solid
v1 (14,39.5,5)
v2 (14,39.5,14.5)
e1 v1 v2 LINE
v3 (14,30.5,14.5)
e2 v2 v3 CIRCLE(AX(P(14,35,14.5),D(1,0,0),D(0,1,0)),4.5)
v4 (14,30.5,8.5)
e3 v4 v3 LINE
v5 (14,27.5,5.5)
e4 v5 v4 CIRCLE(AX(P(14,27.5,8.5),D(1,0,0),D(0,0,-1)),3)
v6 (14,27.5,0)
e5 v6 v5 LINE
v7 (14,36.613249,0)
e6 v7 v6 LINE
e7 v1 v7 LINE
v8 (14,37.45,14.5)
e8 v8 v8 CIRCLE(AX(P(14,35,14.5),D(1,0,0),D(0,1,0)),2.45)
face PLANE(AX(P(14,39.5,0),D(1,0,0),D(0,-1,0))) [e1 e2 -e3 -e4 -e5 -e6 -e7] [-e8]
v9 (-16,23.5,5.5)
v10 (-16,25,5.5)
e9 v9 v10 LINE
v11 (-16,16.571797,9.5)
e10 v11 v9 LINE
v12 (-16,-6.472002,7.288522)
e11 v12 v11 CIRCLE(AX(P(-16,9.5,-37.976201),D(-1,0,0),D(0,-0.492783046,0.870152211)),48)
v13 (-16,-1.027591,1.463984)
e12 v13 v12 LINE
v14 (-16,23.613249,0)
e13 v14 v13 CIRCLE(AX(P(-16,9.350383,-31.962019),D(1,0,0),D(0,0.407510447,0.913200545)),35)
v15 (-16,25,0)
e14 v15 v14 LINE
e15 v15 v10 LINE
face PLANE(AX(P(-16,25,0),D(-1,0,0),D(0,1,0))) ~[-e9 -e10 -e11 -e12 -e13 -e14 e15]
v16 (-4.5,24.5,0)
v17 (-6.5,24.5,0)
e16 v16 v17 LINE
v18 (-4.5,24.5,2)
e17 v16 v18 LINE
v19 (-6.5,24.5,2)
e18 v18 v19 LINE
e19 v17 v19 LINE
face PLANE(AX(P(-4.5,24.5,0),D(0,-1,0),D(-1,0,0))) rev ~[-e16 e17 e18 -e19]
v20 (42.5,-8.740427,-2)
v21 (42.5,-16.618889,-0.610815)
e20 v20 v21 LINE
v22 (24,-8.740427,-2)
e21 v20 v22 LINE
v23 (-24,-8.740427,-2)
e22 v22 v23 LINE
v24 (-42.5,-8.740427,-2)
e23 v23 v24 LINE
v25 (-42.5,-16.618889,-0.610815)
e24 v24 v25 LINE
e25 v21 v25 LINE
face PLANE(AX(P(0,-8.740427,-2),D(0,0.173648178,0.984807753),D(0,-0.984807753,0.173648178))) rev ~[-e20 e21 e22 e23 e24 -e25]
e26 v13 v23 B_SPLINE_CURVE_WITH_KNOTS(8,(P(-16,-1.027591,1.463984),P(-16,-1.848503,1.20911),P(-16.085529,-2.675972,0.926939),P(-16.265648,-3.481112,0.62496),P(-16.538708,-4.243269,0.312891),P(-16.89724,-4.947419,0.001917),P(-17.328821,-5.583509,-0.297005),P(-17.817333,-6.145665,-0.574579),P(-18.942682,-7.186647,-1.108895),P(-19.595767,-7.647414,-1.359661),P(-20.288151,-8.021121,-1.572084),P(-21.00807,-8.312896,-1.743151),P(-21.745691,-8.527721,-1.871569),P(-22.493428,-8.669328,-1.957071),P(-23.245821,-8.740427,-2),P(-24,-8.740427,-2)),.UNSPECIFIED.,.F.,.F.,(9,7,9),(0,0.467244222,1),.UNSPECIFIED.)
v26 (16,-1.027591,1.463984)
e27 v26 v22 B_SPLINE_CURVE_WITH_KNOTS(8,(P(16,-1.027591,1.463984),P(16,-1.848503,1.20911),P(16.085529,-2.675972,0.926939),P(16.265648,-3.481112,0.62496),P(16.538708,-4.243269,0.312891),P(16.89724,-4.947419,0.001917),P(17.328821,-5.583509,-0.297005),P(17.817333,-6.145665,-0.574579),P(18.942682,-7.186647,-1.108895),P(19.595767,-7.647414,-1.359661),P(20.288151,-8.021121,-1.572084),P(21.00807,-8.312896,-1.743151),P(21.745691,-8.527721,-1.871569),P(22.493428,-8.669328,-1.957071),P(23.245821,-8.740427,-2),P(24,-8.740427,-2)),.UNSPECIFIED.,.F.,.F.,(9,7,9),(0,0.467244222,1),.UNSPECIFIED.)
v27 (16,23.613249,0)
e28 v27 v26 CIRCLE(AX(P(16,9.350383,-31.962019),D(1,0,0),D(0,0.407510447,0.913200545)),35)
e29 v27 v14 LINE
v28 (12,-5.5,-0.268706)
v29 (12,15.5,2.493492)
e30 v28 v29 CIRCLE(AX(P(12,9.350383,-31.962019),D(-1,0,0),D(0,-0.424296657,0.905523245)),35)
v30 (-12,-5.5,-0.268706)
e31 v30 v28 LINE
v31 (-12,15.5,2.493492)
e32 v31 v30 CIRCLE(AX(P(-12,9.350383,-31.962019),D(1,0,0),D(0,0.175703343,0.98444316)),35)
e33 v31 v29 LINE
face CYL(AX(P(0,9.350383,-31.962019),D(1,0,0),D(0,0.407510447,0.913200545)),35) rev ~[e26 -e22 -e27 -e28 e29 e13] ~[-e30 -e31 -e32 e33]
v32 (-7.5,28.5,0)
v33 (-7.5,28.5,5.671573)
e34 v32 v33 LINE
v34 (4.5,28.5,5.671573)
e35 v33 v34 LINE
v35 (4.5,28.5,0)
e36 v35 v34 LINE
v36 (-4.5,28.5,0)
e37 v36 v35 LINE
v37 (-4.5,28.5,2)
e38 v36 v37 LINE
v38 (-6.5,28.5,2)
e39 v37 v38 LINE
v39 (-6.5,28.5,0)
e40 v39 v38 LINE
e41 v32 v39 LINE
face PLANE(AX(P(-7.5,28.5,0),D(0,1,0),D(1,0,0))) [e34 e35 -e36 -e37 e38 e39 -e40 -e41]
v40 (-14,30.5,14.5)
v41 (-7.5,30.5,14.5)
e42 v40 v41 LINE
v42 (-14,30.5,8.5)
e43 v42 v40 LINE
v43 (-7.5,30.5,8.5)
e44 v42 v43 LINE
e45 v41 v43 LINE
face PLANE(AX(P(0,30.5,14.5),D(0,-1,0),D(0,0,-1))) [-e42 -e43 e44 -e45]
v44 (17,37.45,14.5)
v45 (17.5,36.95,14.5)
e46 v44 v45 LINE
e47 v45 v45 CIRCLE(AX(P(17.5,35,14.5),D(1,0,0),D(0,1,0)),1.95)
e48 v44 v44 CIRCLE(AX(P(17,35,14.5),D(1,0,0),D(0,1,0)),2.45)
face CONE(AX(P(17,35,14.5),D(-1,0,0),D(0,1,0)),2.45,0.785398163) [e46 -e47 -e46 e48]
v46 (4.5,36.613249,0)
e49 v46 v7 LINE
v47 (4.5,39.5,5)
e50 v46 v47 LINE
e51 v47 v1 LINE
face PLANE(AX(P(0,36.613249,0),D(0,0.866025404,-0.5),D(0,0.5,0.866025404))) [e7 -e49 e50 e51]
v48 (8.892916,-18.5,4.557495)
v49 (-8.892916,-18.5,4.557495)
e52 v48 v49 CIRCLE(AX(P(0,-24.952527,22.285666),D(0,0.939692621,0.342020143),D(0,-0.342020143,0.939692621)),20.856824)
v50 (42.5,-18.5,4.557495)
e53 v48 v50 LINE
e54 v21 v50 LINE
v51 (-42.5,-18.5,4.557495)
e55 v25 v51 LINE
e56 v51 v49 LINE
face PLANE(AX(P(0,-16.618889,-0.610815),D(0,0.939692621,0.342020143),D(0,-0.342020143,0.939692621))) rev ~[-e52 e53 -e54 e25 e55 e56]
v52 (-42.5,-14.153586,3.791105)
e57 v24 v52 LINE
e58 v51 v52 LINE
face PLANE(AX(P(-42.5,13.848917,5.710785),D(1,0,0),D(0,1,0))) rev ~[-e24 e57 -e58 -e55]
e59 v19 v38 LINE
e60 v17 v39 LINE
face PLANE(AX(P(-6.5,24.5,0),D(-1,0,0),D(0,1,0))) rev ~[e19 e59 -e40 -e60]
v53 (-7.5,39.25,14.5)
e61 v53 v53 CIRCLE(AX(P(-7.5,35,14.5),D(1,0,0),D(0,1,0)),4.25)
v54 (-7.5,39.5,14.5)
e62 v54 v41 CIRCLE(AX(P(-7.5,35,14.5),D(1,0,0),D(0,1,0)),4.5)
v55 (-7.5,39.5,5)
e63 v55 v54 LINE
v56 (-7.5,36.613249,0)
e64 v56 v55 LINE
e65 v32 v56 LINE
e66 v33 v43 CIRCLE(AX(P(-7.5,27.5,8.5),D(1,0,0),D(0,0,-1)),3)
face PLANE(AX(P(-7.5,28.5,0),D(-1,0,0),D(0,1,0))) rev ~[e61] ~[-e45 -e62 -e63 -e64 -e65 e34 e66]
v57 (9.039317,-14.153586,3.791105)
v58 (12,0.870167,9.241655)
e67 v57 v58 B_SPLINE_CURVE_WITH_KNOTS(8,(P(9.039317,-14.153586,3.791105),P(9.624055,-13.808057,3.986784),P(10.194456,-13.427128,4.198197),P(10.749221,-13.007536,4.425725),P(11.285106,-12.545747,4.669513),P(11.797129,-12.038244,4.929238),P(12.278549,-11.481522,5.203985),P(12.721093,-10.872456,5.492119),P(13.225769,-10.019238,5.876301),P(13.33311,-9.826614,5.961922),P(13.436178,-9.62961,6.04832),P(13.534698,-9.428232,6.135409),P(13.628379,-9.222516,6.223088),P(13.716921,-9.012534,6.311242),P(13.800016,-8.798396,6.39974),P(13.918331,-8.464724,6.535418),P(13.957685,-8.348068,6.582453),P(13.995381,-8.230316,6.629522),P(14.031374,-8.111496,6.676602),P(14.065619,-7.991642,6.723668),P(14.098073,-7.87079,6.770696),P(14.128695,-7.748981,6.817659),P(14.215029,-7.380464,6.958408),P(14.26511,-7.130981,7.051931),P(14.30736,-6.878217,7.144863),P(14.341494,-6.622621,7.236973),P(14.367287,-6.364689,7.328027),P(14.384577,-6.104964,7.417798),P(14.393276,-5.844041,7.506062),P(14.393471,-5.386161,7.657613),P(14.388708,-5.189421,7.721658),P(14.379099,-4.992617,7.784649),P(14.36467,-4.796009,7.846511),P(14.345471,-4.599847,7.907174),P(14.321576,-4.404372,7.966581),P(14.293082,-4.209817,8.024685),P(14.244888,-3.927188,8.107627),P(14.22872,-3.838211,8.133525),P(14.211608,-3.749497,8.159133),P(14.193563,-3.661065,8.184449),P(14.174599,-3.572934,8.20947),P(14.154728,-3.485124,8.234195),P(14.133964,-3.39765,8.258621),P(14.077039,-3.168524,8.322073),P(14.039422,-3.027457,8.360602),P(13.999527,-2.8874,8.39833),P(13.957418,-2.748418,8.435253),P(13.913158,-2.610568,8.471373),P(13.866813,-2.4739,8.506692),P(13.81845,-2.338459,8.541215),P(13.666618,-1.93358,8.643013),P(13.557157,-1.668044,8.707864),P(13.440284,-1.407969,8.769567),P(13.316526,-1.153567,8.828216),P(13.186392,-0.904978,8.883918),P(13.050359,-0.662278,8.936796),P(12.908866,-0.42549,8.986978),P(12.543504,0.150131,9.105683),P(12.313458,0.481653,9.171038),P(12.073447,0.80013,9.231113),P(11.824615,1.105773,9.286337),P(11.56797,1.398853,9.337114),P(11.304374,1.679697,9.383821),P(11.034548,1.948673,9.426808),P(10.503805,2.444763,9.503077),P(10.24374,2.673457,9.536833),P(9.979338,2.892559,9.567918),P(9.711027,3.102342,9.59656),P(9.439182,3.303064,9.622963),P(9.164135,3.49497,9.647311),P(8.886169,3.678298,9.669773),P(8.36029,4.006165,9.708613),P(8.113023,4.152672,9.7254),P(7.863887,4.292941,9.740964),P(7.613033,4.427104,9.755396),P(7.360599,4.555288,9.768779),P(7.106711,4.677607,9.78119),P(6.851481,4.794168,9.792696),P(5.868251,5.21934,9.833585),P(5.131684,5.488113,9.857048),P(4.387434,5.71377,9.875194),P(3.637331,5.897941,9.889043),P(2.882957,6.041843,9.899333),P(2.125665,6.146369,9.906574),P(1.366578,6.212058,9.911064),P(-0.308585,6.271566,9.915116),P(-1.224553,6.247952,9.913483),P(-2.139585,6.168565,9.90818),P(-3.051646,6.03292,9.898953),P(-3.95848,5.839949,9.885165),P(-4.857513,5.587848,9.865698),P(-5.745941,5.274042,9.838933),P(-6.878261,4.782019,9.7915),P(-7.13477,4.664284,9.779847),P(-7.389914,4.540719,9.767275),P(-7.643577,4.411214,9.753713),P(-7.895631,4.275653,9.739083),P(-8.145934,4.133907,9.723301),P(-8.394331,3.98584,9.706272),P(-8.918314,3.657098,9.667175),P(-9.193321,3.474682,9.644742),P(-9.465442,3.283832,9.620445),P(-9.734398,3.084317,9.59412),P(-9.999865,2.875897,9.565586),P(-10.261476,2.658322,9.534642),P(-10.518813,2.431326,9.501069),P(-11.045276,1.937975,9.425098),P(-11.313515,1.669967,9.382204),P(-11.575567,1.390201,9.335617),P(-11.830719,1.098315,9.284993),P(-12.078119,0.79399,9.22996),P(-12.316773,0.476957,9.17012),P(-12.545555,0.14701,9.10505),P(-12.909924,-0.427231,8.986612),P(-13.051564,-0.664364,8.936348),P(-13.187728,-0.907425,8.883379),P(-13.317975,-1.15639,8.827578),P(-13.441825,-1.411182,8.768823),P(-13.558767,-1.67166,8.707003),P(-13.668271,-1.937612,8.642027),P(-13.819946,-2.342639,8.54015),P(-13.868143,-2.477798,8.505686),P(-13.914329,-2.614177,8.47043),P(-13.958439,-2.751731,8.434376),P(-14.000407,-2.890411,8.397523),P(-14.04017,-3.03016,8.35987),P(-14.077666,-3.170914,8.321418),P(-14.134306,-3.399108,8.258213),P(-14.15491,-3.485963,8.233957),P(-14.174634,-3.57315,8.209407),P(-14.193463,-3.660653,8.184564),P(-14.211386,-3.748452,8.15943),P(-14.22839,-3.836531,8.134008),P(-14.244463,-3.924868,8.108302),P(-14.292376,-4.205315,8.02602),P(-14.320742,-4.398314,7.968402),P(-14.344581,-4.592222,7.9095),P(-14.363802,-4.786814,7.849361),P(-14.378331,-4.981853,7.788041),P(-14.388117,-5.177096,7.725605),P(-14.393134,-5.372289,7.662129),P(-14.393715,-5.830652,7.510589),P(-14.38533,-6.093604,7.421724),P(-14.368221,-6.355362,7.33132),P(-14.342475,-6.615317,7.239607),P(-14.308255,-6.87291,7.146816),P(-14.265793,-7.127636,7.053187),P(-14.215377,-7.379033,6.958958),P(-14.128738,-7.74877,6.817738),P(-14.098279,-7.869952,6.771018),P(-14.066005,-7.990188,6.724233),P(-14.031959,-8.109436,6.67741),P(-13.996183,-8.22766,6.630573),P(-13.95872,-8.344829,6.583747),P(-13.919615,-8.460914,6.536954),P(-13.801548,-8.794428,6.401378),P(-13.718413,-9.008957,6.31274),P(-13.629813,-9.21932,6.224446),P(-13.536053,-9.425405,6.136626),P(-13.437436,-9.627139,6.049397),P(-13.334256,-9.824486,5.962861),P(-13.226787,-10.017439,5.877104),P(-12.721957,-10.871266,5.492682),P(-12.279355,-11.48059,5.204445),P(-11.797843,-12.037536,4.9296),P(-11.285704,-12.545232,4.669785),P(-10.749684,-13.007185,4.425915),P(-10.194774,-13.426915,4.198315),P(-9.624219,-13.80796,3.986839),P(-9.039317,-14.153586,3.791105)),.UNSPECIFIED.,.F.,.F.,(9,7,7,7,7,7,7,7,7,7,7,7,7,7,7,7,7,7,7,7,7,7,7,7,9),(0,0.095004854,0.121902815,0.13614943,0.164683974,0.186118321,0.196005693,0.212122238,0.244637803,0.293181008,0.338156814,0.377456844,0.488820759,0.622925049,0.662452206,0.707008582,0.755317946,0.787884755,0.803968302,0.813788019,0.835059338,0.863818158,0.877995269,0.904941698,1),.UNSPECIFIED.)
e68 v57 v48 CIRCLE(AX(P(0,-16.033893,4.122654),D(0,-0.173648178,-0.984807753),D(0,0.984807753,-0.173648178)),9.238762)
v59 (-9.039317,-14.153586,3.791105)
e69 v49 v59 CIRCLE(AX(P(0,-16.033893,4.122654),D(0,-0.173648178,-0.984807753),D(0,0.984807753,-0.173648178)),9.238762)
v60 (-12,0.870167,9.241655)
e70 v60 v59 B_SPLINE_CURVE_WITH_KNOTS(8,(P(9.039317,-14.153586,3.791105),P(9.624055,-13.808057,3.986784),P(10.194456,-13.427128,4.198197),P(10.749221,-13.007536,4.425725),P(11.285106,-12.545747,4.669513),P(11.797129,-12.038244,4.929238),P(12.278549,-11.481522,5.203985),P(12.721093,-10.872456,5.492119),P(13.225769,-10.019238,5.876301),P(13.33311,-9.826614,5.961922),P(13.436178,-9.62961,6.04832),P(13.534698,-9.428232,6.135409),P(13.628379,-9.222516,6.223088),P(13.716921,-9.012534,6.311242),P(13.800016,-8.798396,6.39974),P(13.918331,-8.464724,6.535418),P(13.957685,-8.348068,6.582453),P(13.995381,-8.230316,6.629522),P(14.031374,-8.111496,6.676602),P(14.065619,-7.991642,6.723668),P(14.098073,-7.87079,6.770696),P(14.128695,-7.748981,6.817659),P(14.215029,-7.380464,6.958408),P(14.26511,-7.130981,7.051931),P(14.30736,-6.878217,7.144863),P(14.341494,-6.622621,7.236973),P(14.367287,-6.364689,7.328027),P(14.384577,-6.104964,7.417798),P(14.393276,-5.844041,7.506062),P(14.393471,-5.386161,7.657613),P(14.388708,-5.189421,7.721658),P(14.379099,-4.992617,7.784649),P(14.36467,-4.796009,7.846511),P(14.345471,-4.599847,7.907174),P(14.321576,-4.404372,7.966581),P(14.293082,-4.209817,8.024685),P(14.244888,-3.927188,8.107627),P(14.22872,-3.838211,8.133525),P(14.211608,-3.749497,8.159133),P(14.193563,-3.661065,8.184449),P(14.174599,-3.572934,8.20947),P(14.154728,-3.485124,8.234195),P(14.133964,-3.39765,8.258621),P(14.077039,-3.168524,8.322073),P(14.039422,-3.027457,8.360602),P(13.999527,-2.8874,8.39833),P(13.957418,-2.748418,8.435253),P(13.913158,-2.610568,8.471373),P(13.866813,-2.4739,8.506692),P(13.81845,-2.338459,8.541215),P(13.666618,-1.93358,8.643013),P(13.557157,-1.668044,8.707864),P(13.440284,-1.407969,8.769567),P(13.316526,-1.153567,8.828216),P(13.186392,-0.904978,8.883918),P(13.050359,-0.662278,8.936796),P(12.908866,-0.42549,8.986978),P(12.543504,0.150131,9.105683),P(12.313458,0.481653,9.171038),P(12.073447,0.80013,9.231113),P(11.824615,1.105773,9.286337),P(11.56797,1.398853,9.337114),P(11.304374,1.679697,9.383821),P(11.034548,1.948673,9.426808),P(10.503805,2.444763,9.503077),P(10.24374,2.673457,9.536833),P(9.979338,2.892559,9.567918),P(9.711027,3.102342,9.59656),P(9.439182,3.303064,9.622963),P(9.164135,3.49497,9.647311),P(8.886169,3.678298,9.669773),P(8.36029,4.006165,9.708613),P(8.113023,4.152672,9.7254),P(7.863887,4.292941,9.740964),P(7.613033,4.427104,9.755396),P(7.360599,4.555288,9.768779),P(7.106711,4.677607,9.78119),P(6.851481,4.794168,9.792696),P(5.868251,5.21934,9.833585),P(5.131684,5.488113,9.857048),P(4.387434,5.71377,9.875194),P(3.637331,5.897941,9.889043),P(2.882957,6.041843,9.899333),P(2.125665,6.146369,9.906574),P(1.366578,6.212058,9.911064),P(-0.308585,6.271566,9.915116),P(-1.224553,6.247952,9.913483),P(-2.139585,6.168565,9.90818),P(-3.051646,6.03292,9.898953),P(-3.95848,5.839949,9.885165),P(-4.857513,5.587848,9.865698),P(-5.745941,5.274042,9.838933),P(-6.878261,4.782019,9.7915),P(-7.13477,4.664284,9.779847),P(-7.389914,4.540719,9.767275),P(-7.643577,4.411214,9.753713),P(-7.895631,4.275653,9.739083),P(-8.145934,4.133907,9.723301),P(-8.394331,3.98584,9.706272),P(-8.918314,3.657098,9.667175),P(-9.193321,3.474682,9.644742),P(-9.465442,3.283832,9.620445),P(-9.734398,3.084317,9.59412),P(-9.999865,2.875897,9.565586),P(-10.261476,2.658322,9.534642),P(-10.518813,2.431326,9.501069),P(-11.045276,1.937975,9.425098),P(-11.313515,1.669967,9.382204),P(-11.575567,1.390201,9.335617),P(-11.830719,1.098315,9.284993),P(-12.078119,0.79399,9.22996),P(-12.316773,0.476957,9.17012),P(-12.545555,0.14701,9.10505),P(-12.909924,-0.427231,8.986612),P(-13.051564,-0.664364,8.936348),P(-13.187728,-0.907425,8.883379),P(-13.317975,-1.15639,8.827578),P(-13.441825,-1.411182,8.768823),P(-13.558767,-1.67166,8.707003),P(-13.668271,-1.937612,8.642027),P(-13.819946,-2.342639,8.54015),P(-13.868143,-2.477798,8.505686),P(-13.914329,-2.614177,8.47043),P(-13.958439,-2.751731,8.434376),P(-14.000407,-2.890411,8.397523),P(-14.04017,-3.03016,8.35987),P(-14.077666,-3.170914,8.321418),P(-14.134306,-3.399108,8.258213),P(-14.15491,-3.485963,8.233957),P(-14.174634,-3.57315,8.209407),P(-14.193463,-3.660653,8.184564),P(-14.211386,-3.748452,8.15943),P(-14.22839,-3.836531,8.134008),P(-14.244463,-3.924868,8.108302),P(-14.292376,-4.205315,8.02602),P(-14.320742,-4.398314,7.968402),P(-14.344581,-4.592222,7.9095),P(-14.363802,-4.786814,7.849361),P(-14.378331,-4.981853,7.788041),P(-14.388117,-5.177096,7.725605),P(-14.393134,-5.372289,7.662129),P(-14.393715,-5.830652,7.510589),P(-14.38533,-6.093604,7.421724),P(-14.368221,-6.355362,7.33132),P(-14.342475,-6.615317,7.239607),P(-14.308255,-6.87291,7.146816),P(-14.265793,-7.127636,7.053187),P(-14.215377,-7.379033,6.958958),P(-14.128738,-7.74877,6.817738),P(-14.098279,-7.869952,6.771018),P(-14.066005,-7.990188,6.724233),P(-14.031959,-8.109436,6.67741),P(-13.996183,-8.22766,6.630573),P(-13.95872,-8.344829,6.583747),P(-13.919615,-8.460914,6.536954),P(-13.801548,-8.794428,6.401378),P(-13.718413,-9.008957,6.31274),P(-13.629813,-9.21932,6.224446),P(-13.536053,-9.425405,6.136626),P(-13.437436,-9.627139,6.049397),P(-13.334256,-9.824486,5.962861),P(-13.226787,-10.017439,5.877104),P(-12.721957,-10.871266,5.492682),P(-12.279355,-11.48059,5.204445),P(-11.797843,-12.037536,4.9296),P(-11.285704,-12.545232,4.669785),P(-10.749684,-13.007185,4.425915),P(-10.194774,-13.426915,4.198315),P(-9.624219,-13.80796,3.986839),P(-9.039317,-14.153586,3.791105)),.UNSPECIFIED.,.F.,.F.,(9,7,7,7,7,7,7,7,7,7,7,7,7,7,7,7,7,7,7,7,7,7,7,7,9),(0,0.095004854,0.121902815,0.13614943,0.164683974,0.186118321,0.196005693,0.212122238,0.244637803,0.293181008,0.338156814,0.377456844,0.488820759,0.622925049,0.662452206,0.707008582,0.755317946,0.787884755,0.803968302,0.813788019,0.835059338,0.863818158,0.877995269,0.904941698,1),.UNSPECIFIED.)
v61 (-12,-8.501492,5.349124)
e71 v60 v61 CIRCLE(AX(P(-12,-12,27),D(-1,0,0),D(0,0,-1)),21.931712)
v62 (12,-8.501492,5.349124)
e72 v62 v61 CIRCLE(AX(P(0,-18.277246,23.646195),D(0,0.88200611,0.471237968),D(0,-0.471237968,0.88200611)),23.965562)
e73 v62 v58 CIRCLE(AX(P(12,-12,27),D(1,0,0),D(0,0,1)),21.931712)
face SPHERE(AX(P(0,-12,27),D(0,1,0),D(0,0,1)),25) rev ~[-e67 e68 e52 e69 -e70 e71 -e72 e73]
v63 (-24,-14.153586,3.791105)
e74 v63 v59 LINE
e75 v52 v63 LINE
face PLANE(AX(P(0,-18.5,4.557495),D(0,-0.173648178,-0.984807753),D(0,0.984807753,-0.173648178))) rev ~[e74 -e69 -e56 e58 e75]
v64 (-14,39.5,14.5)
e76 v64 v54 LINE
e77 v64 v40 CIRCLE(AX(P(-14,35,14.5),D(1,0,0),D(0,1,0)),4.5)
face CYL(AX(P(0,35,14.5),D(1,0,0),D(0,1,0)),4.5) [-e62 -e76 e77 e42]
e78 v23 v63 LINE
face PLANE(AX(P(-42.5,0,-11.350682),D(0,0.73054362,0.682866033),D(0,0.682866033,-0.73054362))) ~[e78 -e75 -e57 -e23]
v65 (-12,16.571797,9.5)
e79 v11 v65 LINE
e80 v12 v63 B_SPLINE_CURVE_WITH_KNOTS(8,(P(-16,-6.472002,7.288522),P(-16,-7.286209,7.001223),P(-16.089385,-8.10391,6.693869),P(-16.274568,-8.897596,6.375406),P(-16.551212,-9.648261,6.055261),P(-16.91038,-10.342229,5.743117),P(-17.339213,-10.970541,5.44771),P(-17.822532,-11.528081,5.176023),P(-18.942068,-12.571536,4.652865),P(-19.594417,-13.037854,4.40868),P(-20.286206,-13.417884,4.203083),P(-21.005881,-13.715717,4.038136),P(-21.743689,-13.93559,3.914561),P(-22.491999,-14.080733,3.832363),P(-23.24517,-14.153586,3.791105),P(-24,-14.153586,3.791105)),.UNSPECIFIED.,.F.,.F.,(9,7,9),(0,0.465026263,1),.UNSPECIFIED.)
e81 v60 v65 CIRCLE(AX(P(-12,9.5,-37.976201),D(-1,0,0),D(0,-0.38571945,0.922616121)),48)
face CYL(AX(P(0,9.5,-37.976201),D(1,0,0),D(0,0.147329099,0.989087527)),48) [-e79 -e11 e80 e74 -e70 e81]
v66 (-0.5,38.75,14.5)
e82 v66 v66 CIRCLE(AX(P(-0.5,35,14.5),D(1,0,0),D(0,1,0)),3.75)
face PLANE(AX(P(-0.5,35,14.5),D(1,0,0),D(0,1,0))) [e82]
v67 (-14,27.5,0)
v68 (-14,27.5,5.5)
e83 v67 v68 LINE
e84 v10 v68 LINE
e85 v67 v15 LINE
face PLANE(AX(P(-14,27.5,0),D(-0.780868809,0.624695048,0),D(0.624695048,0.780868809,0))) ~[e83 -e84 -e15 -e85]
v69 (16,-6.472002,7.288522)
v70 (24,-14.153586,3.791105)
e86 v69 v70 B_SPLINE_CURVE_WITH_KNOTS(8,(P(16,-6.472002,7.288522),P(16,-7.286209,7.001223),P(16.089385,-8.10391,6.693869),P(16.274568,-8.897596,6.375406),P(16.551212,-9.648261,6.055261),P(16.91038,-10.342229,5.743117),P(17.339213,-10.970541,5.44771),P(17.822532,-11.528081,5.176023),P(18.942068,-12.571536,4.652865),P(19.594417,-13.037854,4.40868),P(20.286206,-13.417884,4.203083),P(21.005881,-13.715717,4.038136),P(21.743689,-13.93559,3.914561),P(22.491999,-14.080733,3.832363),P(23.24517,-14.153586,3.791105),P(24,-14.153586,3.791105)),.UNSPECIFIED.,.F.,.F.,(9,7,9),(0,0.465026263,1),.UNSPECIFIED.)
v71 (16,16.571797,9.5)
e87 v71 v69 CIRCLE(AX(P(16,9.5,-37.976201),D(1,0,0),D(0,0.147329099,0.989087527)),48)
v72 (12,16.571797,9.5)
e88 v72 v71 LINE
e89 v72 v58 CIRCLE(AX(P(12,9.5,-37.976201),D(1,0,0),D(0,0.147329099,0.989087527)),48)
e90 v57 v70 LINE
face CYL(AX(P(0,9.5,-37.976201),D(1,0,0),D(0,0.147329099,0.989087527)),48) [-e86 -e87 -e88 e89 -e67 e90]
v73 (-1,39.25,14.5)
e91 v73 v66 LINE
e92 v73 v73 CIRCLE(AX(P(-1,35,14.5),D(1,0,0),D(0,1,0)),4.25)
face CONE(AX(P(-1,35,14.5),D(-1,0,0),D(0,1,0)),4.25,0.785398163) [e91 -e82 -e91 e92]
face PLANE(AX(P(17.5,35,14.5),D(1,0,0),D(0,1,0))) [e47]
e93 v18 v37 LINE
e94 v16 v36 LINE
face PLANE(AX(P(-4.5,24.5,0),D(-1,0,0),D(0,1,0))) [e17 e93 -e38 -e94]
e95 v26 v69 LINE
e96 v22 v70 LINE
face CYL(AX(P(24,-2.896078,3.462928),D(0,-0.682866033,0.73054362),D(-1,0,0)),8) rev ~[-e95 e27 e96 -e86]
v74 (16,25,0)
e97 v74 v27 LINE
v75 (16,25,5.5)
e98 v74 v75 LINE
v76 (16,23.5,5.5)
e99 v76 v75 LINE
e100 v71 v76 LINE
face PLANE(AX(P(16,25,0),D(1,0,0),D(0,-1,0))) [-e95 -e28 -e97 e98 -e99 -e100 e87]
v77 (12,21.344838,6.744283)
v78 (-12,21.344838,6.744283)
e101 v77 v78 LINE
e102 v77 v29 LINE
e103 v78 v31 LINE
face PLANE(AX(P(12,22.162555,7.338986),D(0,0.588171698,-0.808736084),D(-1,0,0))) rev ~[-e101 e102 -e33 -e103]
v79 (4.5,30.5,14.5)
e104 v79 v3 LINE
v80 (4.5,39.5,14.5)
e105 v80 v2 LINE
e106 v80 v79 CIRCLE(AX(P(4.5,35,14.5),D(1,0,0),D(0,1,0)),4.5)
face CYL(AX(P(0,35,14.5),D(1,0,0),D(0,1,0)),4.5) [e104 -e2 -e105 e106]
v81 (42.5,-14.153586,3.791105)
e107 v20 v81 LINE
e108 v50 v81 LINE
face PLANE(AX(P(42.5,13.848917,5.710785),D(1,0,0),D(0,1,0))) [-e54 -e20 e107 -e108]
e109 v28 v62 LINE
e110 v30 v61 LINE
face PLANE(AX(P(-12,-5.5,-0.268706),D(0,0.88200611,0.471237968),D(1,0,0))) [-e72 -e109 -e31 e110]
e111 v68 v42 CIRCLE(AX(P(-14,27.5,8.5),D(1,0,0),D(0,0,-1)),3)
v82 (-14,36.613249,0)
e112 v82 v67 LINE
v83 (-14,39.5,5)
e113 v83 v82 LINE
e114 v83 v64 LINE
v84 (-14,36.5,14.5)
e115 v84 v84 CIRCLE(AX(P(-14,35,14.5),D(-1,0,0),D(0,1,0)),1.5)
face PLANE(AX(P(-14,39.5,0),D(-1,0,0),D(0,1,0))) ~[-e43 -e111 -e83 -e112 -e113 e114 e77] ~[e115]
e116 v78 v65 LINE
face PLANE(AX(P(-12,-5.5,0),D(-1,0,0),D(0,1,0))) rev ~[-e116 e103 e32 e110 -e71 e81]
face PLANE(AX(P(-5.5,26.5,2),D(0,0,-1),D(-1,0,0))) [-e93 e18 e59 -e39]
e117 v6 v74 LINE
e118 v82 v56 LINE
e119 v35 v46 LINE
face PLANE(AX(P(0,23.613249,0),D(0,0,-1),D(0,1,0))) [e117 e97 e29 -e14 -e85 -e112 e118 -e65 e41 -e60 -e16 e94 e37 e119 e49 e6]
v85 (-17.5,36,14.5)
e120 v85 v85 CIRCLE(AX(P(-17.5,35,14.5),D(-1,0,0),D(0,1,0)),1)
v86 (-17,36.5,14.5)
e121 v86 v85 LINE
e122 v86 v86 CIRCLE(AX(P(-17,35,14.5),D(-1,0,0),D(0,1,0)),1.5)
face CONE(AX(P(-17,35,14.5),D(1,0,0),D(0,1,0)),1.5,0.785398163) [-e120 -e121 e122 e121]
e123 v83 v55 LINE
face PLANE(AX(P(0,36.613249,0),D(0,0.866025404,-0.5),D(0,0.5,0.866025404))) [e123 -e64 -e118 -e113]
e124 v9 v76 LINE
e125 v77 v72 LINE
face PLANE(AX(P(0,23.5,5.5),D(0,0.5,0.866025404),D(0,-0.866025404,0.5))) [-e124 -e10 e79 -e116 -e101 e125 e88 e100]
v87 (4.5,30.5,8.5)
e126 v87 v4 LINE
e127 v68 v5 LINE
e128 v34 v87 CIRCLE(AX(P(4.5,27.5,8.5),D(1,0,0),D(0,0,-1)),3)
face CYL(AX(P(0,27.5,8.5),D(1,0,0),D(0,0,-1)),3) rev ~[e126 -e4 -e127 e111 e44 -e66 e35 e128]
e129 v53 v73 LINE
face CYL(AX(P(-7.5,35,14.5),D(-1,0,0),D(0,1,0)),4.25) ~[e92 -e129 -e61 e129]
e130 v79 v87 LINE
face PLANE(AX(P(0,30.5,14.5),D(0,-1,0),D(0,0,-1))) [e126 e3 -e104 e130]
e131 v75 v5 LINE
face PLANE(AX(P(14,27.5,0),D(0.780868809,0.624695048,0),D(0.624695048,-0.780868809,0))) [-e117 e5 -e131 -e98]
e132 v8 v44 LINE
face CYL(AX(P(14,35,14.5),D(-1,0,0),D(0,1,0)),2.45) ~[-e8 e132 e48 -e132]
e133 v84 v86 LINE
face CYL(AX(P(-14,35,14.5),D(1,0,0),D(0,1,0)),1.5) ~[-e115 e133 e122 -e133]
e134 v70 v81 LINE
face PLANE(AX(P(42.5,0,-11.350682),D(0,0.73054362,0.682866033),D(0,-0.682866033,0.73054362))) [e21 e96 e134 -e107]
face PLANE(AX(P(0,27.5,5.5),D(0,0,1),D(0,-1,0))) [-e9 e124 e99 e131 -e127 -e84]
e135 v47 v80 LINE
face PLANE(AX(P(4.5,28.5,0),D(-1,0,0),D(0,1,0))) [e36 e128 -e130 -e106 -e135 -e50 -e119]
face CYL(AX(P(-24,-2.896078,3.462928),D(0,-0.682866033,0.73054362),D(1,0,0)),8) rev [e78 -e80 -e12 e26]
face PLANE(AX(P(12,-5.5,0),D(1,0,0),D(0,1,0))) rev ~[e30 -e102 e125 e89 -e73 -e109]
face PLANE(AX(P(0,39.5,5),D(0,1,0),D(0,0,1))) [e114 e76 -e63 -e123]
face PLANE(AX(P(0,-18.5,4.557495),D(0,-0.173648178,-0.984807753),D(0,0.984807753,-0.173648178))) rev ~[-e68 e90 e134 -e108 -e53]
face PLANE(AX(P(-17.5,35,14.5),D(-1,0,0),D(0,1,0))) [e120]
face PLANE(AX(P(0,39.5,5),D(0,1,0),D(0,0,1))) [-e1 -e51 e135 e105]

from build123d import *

# Parameters (mm, degrees)
PAD_DEPTH            = 42.5
SKETCH001_W          = 11
SKETCH001_H          = 12
POCKET_DEPTH         = 19.001
POCKET001_DEPTH      = 229.0486136499
SKETCH003_W          = 21
SKETCH003_H          = 24
POCKET002_DEPTH      = 19.001
POCKET002_DEPTH_BACK = 2.001
POCKET003_DEPTH      = 26.5
SKETCH006_R          = 2.45
PAD001_DEPTH         = 3.5
SKETCH007_R          = 1.5
PAD002_DEPTH         = 3.5
SKETCH008_R          = 4.25
PAD003_DEPTH         = 7
SKETCH009_W          = 24
SKETCH009_H          = 5.7855610815
POCKET004_DEPTH      = 38.3792032733
SKETCH010_W          = 24
SKETCH010_H          = 3.7173874083
POCKET005_DEPTH      = 23.1222095644
SKETCH011_W          = 2
SKETCH011_H          = 4
POCKET006_DEPTH      = 2
CHAMFER_SIZE         = 0.5
FILLET_R             = 8


with BuildPart() as part:
    # Sketch → Pad (new body, symmetric)
    with BuildSketch(Plane.YZ):
        with BuildLine():
            Line((23.6132486541, 0), (36.6132486541, 0))
            Line((36.6132486541, 0), (39.5, 5))
            Line((39.5, 5), (39.5, 14.5))
            ThreePointArc((39.5, 14.5), (35, 19), (30.5, 14.5))
            Line((30.5, 14.5), (30.5, 8.5))
            ThreePointArc((27.5, 5.5), (29.6213203436, 6.3786796564), (30.5, 8.5))
            Line((27.5, 5.5), (23.5, 5.5))
            Line((23.5, 5.5), (16.5717967697, 9.5))
            ThreePointArc((16.5717967697, 9.5), (0.731487802, 9.2160988481), (-14.1535861905, 3.7911048117))
            Line((-18.5, 4.5574948357), (-14.1535861905, 3.7911048117))
            Line((-16.6188892117, -0.6108145787), (-18.5, 4.5574948357))
            Line((-8.7404271876, -2), (-16.6188892117, -0.6108145787))
            ThreePointArc((23.6132486541, 0), (7.1909178254, 2.97129898), (-8.7404271876, -2))
        make_face()
    extrude(amount=PAD_DEPTH, both=True)

    # Sketch001 (on Face1 of Pad) → Pocket (cut, through all)
    with BuildSketch(Plane.YX):
        with Locations((34, -1.5)):
            Rectangle(SKETCH001_W, SKETCH001_H)
    extrude(amount=-POCKET_DEPTH, mode=Mode.SUBTRACT)

    # Sketch002 (on Face1 of Pocket) → Pocket001 (cut, through all)
    with BuildSketch(Plane.YX):
        Polygon((0, 42.5), (39.5, 42.5), (39.5, 14), (27.5, 14), (25, 16), (0, 16), align=None)
    pocket001 = extrude(amount=-POCKET001_DEPTH, mode=Mode.SUBTRACT)

    # Mirrored: Pocket001 across YZ
    add(pocket001.mirror(Plane.YZ), mode=Mode.SUBTRACT)

    # Sketch003 (on Face1 of Mirrored) → Pocket002 (cut, two sides)
    with BuildSketch(Plane.YX) as pocket002_sk:
        with Locations((5, 0)):
            Rectangle(SKETCH003_W, SKETCH003_H)
    extrude(amount=-POCKET002_DEPTH, mode=Mode.SUBTRACT)
    extrude(pocket002_sk.sketch, amount=POCKET002_DEPTH_BACK, mode=Mode.SUBTRACT)

    # Sketch004 (on Face28 of Pocket002) → Pocket003 (cut)
    with BuildSketch(Plane.YZ.offset(42.5)):
        Polygon((0, 9.0743034734), (0, -11.3506822755), (-19.0919866044, 9.0743034734), align=None)
    pocket003 = extrude(amount=-POCKET003_DEPTH, mode=Mode.SUBTRACT)

    # Mirrored001: Pocket003 across YZ
    add(pocket003.mirror(Plane.YZ), mode=Mode.SUBTRACT)

    # Sketch006 (on Face9 of Mirrored001) → Pad001 (join)
    with BuildSketch(Plane.YZ.offset(14)):
        with Locations((35, 14.5)):
            Circle(SKETCH006_R)
    extrude(amount=PAD001_DEPTH)

    # Sketch007 (on Face4 of Pad001) → Pad002 (join)
    with BuildSketch(Plane(origin=(-14, 0, 0), x_dir=(0, 1, 0), z_dir=(-1, 0, 0))):
        with Locations((35, -14.5)):
            Circle(SKETCH007_R)
    extrude(amount=PAD002_DEPTH)

    # Sketch008 (on Face6 of Pad002) → Pad003 (join)
    with BuildSketch(Plane.YZ.offset(-7.5)):
        with Locations((35, 14.5)):
            Circle(SKETCH008_R)
    extrude(amount=PAD003_DEPTH)

    # Sketch009 (on DatumPlane) → Pocket004 (cut, through all)
    with BuildSketch(Plane(origin=(4.6666666667, 24.8333333333, 3.6666666667), x_dir=(-1, 0, 0), z_dir=(0, 0.8087360843, 0.5881716977))):
        with Locations((4.6666666667, 7.4335939838)):
            Rectangle(SKETCH009_W, SKETCH009_H)
    extrude(amount=-POCKET004_DEPTH, mode=Mode.SUBTRACT)

    # Sketch010 (on DatumPlane) → Pocket005 (cut, through all)
    with BuildSketch(Plane(origin=(-5.3333333333, -6.5801423959, -0.8458036702), x_dir=(1, 0, 0), z_dir=(0, -0.4712379677, 0.8820061099))):
        with Locations((5.3333333333, 3.0833364632)):
            Rectangle(SKETCH010_W, SKETCH010_H)
    extrude(amount=POCKET005_DEPTH, mode=Mode.SUBTRACT)

    # Sphere → Sphere (revolve, cut)
    with BuildSketch(Plane(origin=(0, -12, 27), x_dir=(0, 0, 1), z_dir=(-1, 0, 0))):
        with BuildLine():
            ThreePointArc((0, -25), (25, 0), (0, 25))
            Line((0, 25), (0, -25))
        make_face()
    revolve(axis=Axis((0, -12, 27), (0, 1, 0)), mode=Mode.SUBTRACT)

    # Sketch011 (on Face1 of Sphere) → Pocket006 (cut)
    with BuildSketch(Plane(origin=(0, -12, 0), x_dir=(-1, 0, 0), z_dir=(0, 0, -1))):
        with Locations((5.5, 38.5)):
            Rectangle(SKETCH011_W, SKETCH011_H)
    extrude(amount=-POCKET006_DEPTH, mode=Mode.SUBTRACT)

    # Chamfer
    chamfer_edges = [part.edges().sort_by_distance(p)[0] for p in [
        (17.5, 32.55, 14.5),
        (-0.5, 30.75, 14.5),
        (-17.5, 33.5, 14.5),
    ]]
    chamfer(chamfer_edges, length=CHAMFER_SIZE)

    # Fillet
    fillet_edges = [part.edges().sort_by_distance(p)[0] for p in [
        (16, -11.447007, 0.895552),
        (-16, -11.447007, 0.895552),
    ]]
    fillet(fillet_edges, radius=FILLET_R)


solid = part.part
